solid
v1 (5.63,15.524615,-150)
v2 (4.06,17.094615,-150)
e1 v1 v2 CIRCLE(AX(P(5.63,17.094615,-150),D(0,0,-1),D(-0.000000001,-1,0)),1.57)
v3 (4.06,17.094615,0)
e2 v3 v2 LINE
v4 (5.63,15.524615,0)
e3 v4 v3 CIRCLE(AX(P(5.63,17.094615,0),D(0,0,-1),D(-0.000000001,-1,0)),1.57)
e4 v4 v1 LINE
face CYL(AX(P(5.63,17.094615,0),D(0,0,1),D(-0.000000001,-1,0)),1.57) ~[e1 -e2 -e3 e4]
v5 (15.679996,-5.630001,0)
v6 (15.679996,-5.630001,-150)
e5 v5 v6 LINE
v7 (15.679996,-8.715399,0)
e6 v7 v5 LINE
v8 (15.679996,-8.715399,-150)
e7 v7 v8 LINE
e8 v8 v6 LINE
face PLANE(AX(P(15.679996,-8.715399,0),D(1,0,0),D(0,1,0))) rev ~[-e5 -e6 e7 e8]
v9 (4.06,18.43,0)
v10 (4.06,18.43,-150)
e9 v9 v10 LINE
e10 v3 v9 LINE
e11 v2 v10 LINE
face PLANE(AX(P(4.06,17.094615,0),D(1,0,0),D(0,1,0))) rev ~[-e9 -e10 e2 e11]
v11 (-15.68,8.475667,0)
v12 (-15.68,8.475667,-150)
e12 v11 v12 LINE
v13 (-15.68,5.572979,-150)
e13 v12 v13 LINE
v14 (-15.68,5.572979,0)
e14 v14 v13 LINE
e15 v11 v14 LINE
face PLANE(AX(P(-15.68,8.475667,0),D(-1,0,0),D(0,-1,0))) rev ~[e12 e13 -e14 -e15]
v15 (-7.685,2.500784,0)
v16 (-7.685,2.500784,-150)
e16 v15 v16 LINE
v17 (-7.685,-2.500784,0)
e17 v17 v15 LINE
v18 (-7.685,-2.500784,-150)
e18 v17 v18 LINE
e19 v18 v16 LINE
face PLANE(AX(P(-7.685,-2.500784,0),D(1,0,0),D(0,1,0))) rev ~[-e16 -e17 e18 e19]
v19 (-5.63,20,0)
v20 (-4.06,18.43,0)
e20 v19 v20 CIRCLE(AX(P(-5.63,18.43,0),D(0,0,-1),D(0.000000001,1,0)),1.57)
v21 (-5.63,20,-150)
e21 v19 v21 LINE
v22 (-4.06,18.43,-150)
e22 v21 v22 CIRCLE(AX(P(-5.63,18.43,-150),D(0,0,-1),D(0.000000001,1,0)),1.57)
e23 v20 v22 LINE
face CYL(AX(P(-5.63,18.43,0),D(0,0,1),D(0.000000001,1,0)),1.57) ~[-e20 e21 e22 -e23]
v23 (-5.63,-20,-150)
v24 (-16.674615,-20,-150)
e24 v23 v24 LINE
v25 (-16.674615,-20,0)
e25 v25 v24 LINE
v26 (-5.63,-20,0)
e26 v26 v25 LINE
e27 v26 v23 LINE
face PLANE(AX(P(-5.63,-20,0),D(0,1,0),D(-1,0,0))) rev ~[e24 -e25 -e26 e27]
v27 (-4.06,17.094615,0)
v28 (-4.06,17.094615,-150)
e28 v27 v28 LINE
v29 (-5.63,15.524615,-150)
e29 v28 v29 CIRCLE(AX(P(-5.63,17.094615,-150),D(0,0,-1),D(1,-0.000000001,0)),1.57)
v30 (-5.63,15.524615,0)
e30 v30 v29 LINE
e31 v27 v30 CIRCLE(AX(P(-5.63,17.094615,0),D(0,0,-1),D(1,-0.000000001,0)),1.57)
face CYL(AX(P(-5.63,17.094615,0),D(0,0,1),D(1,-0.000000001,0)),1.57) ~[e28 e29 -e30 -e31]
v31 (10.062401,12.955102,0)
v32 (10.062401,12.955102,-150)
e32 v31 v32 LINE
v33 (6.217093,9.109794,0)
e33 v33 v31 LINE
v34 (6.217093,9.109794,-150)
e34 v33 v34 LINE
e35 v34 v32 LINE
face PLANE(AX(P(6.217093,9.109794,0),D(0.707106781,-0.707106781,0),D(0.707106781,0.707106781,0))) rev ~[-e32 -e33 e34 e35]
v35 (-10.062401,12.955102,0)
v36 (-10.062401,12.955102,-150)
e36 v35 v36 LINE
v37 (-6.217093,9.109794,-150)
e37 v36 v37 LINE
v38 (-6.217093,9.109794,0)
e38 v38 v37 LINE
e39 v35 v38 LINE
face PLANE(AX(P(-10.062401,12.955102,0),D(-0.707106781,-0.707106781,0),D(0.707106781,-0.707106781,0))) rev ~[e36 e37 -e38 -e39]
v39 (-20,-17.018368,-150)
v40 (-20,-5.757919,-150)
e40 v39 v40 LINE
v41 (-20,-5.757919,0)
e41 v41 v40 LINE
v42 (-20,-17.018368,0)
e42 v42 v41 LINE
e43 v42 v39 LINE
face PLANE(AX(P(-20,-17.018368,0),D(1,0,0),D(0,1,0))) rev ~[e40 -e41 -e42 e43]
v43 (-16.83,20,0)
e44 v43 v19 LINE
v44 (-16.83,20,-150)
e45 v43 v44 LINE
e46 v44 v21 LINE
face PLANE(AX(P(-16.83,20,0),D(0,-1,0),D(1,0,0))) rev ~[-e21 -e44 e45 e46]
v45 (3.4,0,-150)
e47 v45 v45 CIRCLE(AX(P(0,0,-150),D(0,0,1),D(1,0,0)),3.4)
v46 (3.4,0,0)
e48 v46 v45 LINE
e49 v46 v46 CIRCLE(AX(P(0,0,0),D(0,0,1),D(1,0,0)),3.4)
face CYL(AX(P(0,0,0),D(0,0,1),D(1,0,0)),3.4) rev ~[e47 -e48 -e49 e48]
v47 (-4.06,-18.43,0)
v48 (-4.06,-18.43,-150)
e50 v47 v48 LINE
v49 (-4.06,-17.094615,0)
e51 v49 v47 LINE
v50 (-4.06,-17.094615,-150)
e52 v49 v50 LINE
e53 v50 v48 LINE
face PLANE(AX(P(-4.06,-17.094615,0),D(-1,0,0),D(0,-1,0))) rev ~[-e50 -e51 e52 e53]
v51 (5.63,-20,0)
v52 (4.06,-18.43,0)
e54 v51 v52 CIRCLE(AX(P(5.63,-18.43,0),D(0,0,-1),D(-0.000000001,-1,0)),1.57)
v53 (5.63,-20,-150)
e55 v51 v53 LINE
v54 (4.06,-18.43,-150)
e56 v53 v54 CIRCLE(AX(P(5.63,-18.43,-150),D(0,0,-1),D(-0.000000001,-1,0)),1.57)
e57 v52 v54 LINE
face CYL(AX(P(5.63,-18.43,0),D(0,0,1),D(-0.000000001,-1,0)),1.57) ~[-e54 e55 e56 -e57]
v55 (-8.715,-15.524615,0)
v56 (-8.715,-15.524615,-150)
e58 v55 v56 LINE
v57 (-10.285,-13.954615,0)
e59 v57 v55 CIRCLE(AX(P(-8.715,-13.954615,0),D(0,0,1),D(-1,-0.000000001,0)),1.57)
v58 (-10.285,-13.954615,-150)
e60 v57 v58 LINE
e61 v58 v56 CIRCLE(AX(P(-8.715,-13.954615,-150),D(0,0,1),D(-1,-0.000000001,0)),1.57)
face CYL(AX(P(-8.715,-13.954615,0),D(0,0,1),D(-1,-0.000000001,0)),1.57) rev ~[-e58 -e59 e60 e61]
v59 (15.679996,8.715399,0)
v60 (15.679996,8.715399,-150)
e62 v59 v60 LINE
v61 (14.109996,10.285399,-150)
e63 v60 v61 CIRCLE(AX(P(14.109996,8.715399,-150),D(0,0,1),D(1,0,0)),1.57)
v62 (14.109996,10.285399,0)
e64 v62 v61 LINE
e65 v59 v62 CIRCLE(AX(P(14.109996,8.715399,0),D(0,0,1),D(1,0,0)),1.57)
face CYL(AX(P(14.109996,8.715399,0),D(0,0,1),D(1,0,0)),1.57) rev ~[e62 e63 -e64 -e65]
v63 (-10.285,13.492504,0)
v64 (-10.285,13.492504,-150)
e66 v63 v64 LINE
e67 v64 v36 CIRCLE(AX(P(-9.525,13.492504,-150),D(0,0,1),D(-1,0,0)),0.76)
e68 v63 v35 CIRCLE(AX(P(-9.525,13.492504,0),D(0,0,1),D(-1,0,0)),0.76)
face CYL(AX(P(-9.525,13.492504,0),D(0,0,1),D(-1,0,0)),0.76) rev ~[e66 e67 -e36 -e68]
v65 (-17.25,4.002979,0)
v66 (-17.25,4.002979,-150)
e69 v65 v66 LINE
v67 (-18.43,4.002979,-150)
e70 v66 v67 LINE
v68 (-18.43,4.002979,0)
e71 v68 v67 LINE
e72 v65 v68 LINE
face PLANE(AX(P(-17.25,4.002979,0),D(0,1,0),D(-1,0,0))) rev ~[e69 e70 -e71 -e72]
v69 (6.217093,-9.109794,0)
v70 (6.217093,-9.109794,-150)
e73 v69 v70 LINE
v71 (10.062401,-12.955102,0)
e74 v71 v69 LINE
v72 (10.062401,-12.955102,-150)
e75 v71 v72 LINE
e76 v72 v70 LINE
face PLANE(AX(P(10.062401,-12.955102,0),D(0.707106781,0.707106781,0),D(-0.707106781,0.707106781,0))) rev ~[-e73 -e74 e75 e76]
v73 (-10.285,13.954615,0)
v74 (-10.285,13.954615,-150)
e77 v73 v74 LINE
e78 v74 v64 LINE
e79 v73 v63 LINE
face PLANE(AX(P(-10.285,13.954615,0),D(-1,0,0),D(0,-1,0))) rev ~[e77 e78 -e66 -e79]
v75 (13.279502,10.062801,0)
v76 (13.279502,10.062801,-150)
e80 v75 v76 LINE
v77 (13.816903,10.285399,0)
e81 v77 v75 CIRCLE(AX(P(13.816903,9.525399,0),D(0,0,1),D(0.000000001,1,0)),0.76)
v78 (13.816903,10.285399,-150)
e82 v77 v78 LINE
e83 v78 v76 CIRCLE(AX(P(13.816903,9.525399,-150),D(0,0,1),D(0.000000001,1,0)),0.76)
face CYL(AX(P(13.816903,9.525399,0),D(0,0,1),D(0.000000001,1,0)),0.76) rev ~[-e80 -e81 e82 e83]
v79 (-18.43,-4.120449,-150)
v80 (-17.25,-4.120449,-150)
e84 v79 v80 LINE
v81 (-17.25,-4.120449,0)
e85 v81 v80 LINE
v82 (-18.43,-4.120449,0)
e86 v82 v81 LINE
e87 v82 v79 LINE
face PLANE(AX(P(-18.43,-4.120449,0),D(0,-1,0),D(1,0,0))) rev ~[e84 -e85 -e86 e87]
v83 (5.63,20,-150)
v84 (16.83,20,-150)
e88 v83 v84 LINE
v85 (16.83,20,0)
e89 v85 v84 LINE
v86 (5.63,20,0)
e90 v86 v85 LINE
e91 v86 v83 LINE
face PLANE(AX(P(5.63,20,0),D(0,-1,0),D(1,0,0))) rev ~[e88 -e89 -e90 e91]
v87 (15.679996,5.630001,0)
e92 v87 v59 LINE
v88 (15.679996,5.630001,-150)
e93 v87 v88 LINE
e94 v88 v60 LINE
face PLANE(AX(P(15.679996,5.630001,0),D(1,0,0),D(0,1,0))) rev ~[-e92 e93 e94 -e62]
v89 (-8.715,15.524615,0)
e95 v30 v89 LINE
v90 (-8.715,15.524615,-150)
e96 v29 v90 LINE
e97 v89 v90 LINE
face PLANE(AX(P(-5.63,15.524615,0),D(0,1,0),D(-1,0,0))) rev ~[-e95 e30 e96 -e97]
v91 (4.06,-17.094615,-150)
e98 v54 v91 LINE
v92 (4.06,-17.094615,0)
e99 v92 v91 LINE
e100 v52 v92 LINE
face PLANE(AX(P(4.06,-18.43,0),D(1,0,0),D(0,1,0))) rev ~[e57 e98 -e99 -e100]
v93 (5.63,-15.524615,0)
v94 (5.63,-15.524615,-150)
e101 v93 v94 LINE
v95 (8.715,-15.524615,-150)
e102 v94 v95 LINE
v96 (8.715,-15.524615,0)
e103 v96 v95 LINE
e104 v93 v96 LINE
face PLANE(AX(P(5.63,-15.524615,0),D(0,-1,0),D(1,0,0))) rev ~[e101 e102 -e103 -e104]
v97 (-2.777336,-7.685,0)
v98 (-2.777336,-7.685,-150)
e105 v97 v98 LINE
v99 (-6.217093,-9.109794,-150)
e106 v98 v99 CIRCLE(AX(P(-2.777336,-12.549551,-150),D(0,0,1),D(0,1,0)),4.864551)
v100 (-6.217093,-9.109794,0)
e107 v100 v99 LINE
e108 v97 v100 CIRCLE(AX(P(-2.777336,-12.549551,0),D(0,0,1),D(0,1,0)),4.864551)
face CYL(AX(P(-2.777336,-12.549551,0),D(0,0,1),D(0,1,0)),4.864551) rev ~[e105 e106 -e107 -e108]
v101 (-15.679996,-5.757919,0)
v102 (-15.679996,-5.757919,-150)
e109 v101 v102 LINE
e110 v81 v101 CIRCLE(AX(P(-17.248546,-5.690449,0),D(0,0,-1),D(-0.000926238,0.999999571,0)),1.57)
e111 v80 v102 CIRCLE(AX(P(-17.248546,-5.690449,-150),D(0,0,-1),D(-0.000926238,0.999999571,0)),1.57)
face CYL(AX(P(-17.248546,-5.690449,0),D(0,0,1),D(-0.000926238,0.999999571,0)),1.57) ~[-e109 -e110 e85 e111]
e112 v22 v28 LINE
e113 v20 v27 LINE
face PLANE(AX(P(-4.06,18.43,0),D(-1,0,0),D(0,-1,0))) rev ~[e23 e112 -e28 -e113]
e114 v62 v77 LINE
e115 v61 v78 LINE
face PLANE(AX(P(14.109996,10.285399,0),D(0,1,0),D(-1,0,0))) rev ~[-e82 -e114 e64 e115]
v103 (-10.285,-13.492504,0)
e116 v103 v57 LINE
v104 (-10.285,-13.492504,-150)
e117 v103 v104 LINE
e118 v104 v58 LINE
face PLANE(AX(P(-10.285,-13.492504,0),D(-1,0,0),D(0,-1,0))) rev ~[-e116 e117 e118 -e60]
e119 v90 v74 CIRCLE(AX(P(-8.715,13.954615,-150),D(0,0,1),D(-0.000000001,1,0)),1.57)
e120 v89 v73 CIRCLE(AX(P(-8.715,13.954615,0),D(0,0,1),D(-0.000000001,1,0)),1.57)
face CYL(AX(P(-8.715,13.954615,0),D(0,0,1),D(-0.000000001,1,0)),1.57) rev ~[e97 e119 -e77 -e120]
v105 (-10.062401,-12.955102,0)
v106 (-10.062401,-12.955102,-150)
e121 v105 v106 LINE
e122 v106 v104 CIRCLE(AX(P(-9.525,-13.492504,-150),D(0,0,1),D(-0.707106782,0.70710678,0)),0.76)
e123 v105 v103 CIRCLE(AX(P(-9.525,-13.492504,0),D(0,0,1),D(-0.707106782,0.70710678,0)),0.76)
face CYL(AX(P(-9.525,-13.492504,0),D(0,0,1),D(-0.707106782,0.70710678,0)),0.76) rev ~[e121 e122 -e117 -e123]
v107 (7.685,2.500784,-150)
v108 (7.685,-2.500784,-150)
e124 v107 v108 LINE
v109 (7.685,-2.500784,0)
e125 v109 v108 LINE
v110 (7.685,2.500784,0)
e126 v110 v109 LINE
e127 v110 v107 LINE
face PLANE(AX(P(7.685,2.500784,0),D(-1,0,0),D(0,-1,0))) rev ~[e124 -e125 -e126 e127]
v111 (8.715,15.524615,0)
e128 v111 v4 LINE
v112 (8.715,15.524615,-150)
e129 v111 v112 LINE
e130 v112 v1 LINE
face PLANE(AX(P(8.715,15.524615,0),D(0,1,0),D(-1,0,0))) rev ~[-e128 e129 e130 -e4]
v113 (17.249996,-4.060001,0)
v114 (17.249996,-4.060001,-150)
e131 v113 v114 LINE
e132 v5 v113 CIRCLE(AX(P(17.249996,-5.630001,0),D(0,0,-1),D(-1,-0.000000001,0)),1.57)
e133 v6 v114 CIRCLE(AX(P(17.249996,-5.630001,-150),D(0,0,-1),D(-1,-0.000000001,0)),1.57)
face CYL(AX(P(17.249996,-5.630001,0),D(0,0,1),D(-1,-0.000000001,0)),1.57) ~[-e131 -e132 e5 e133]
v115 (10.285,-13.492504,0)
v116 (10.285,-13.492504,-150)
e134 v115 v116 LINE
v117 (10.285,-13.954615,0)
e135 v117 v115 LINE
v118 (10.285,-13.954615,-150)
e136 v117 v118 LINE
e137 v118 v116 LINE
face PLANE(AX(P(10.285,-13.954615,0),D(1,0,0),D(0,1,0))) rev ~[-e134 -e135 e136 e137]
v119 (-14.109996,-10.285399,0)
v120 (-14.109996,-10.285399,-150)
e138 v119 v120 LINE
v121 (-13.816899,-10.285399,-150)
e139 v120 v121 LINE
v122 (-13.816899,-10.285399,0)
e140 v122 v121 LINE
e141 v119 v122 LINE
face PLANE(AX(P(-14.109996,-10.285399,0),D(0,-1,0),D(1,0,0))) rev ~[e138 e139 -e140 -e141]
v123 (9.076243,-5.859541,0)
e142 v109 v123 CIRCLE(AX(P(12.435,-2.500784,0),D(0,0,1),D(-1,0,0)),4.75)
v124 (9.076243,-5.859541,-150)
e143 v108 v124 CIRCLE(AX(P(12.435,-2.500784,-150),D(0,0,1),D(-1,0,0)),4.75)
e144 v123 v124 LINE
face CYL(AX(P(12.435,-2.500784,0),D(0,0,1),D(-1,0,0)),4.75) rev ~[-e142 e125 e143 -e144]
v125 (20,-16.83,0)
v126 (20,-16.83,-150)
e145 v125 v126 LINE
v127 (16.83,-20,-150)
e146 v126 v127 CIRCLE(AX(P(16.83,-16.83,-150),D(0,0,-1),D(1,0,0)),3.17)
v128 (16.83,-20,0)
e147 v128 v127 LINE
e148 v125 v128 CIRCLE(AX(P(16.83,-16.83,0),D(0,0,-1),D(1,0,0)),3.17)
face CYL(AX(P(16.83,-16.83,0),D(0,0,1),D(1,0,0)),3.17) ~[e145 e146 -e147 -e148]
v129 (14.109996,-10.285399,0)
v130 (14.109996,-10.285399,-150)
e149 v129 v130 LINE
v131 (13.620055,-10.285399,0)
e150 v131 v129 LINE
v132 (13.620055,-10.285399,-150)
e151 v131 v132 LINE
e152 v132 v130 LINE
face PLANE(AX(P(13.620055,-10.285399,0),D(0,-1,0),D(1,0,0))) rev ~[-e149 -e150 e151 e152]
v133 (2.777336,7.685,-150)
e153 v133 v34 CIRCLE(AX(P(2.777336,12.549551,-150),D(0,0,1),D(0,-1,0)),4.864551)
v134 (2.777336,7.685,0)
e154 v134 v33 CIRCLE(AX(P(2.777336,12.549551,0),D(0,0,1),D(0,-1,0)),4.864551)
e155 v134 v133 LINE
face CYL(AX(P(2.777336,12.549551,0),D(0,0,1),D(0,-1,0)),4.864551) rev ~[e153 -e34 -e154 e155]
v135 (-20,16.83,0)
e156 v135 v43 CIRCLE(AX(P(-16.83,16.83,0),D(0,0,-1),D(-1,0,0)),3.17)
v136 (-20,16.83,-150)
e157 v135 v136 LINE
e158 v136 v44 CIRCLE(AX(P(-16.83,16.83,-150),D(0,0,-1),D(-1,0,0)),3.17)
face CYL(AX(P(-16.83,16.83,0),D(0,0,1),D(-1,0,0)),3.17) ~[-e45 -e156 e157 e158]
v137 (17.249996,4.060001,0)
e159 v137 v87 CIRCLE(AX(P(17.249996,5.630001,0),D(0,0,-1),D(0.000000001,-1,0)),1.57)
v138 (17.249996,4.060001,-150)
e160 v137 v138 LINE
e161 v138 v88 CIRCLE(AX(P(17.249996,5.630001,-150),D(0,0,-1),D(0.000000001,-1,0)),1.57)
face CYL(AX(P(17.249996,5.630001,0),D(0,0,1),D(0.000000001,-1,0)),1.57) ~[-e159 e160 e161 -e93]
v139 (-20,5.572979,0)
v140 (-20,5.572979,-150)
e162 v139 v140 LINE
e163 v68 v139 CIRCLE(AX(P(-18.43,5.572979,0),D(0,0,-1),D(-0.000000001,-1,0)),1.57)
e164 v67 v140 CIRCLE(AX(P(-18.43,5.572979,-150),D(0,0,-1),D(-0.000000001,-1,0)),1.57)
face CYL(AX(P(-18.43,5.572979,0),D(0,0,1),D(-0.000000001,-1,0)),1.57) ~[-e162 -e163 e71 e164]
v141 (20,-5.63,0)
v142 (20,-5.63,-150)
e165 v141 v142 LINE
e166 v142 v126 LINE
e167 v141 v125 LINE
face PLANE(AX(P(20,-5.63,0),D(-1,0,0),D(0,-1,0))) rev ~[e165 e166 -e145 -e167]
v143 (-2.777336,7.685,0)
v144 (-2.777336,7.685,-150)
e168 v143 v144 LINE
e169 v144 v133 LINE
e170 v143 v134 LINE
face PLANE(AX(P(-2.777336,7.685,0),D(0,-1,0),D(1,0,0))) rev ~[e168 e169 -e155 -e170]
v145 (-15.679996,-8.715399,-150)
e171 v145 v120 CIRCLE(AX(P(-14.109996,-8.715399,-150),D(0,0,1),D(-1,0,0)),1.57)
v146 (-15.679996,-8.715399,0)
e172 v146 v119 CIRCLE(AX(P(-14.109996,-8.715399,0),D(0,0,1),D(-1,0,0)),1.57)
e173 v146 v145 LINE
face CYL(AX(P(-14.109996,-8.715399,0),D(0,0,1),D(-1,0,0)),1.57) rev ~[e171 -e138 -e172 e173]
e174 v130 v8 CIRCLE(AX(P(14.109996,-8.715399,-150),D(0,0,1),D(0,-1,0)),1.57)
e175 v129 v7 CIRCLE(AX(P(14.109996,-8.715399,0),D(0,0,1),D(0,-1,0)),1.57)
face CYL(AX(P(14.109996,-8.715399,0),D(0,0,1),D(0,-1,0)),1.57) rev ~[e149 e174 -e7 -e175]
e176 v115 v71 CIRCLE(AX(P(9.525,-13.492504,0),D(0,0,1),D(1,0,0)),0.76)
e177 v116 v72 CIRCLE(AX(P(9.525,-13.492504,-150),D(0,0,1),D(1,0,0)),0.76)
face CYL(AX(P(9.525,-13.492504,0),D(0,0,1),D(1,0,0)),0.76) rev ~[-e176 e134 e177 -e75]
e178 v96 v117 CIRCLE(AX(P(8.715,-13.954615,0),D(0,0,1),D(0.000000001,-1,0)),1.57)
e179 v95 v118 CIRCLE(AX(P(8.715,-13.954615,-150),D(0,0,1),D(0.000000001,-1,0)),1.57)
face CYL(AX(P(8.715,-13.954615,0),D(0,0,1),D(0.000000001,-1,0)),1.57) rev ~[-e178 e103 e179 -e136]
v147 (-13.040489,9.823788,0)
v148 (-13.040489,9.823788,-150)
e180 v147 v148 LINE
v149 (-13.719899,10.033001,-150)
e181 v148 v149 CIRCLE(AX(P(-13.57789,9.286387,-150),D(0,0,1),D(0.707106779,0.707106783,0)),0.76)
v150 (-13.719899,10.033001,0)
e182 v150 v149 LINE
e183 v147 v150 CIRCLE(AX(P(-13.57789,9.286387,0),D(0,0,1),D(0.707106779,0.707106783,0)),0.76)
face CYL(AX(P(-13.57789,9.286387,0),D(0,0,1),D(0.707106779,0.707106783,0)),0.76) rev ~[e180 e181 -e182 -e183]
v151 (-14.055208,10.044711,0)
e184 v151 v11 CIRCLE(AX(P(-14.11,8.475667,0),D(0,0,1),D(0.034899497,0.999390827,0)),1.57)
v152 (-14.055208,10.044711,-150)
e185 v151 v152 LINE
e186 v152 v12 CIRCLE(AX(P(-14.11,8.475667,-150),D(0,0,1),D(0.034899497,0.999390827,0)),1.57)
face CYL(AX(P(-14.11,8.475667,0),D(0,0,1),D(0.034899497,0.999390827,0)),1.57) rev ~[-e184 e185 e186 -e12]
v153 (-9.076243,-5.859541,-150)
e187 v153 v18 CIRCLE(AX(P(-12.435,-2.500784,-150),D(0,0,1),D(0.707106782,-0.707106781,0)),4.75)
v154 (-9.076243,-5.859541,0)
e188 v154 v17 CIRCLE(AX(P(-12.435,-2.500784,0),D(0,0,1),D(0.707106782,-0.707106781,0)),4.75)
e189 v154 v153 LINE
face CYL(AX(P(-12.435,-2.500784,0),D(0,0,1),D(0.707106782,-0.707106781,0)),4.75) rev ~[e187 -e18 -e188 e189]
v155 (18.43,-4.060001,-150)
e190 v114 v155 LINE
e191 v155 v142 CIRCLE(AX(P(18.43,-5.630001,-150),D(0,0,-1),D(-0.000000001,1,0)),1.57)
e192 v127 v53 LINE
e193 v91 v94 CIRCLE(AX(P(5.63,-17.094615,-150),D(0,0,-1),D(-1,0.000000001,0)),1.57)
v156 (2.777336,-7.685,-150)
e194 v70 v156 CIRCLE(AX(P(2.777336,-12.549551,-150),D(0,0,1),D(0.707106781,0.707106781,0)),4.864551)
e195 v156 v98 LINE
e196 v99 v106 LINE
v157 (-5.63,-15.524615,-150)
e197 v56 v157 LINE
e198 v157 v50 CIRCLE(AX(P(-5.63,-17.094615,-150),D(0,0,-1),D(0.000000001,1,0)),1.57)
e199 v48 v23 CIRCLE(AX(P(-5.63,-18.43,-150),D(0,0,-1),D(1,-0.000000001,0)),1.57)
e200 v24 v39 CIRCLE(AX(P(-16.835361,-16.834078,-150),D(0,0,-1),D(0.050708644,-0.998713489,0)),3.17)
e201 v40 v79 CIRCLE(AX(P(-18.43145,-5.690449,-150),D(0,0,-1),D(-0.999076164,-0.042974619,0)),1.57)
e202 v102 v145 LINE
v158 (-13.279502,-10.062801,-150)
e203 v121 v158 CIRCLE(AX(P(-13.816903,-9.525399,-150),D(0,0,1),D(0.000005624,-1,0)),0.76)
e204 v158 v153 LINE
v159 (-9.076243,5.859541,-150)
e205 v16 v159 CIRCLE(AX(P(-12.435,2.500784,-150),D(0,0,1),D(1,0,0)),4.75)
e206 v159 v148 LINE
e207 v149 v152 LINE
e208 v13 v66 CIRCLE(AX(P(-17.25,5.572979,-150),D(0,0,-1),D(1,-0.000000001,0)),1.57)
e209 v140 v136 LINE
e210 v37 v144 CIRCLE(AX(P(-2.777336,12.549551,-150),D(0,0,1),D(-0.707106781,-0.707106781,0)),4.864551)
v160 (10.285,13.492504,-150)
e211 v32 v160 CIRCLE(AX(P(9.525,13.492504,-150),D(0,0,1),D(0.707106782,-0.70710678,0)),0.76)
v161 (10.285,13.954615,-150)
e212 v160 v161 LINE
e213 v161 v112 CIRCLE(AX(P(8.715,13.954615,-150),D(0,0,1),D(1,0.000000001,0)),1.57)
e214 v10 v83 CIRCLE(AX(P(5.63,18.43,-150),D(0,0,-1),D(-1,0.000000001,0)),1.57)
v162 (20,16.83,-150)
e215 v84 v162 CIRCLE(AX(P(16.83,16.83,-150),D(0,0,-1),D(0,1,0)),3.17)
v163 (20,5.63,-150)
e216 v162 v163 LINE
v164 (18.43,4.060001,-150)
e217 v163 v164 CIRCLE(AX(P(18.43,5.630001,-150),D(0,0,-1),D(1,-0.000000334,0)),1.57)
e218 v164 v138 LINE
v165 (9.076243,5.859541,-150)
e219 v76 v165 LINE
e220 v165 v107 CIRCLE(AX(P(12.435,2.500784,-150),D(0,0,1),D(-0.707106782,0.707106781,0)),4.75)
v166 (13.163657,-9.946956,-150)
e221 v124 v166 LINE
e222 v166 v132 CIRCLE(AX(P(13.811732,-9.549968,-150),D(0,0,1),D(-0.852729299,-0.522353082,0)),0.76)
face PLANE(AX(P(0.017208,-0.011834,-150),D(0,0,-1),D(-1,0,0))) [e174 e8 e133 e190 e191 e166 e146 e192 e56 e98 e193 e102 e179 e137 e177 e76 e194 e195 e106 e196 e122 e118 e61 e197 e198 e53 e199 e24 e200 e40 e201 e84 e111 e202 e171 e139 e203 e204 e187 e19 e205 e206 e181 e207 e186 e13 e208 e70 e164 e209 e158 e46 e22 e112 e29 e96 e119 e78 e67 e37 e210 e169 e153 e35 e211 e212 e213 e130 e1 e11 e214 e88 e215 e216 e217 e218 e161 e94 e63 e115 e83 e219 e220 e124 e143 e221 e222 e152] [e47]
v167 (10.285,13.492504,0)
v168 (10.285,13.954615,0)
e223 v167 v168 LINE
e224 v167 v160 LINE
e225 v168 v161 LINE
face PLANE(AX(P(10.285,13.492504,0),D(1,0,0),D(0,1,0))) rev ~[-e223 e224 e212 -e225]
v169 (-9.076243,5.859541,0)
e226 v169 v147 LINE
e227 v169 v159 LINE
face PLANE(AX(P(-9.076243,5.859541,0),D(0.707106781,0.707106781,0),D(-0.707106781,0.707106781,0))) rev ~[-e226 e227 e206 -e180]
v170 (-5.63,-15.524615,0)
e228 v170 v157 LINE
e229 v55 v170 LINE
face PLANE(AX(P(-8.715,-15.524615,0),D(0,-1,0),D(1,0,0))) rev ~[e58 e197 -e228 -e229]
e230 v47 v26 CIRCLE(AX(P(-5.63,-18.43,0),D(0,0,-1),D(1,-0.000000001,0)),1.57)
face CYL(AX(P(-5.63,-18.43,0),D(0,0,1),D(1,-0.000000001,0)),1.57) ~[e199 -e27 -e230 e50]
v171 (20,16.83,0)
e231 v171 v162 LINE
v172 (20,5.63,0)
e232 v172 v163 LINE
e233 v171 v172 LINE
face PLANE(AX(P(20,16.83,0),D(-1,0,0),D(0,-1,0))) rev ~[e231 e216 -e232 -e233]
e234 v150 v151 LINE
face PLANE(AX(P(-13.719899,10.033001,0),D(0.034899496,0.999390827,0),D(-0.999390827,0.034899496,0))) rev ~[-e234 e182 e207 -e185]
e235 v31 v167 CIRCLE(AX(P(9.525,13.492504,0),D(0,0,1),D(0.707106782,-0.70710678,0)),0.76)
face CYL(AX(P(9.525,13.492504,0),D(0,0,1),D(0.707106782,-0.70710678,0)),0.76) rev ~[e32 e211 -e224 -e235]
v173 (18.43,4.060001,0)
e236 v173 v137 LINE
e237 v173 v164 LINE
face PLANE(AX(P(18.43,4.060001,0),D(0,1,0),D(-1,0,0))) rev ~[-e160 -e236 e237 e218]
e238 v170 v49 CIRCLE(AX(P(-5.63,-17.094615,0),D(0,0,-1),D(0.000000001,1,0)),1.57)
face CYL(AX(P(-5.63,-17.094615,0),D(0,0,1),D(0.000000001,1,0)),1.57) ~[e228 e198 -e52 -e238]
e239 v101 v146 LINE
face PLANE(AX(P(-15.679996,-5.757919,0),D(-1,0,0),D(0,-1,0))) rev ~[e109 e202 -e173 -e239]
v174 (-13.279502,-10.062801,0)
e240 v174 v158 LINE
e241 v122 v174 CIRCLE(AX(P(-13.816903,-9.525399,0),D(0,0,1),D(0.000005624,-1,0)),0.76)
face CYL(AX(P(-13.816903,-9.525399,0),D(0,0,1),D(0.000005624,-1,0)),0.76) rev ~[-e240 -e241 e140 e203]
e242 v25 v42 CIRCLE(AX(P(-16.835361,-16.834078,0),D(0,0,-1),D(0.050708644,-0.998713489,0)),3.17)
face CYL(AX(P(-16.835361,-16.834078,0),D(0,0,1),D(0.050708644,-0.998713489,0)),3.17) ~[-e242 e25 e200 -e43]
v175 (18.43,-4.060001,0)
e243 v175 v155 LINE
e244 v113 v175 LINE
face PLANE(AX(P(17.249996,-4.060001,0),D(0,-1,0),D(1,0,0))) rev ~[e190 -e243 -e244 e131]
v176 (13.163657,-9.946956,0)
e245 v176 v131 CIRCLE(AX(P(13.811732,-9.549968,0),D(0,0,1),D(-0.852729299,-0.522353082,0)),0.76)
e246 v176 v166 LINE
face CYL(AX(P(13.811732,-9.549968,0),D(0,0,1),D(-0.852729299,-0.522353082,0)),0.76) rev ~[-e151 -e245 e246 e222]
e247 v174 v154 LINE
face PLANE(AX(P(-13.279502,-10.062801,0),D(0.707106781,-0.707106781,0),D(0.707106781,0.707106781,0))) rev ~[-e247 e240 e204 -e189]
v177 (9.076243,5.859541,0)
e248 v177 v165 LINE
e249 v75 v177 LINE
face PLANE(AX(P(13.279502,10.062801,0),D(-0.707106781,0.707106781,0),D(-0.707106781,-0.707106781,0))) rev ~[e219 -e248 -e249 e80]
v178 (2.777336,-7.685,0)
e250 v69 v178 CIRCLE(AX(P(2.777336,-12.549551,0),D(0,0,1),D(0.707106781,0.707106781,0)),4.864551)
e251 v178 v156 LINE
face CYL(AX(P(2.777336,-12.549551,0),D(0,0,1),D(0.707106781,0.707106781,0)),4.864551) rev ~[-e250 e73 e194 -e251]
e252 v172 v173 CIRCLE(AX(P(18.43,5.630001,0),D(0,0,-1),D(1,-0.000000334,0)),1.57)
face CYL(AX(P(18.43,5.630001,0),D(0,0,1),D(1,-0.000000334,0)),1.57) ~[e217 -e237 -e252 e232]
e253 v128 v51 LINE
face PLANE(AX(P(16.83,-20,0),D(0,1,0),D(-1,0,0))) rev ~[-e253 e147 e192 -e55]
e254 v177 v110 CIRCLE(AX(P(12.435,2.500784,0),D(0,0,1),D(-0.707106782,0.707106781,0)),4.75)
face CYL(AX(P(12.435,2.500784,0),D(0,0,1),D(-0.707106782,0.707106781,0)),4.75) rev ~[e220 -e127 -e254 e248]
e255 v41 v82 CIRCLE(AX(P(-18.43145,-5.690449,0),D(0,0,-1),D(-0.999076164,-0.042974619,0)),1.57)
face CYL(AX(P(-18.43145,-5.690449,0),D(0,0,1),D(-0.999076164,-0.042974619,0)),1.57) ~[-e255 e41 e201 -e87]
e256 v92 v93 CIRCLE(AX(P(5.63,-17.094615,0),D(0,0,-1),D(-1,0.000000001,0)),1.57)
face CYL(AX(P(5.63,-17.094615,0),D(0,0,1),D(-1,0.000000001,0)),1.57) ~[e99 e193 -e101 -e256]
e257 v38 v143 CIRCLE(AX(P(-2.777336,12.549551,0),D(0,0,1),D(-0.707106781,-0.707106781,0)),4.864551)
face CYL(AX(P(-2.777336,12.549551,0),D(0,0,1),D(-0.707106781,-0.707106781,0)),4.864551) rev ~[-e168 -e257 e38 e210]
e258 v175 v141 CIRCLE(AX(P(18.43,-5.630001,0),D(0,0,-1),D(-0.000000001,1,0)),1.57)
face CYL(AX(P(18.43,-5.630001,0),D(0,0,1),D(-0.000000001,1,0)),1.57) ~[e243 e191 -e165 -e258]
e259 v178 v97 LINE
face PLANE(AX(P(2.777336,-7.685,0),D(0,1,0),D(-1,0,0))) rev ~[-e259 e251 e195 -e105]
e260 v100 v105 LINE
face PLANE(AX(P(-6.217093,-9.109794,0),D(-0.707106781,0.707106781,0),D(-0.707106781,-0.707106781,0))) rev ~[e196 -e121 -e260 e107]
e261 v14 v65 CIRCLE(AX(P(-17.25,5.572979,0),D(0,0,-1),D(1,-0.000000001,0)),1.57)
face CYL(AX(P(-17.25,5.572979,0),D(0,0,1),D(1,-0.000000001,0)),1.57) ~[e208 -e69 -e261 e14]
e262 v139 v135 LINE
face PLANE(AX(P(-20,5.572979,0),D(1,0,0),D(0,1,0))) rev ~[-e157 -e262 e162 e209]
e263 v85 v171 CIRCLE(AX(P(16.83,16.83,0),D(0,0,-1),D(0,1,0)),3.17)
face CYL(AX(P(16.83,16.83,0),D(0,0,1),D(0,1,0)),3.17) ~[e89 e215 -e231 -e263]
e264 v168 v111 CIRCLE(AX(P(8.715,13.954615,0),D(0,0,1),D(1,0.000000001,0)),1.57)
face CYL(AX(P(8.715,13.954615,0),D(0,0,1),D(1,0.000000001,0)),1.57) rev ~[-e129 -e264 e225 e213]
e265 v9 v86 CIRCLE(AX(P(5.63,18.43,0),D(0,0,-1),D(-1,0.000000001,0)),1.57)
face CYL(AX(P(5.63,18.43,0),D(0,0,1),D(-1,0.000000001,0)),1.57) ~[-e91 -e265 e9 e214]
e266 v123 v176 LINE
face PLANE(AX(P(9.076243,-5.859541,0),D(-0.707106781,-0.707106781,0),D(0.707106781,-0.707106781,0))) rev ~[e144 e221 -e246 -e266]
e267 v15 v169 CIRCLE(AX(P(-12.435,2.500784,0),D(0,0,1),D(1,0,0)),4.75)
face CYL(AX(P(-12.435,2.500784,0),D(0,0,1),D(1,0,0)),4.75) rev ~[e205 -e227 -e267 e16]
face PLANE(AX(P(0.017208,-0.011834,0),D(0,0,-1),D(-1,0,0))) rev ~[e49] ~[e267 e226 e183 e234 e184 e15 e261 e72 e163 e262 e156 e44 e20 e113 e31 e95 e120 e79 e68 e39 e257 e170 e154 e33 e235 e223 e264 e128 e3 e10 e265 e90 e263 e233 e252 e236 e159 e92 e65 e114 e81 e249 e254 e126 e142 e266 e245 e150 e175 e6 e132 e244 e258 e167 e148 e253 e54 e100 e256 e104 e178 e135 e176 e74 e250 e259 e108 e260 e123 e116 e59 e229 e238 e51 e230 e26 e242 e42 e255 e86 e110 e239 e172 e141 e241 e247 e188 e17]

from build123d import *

# Parameters (mm, degrees)
SKETCH1_R      = 3.4
EXTRUDE1_DEPTH = 150


with BuildPart() as part:
    # Sketch1 → Extrude1 (new body)
    with BuildSketch(Plane.XY):
        with BuildLine():
            Line((-8.715, -15.524615034), (-5.63, -15.524615034))
            ThreePointArc((-5.63, -15.524615034), (-4.519842354, -15.984457388), (-4.06, -17.094615034))
            Line((-4.06, -17.094615034), (-4.06, -18.43))
            ThreePointArc((-4.06, -18.43), (-4.519842354, -19.540157646), (-5.63, -20))
            Line((-5.63, -20), (-16.674615034, -20))
            ThreePointArc((-16.674615034, -20), (-18.951578385, -19.194274381), (-20, -17.018368134))
            Line((-20, -17.018368134), (-20, -5.757918808))
            ThreePointArc((-20, -5.757918808), (-19.564709668, -4.603883664), (-18.43, -4.120449326))
            Line((-18.43, -4.120449326), (-17.25, -4.120449326))
            ThreePointArc((-17.25, -4.120449326), (-16.115287682, -4.60388249), (-15.67999625, -5.757919334))
            Line((-15.67999625, -5.757919334), (-15.67999625, -8.715399492))
            ThreePointArc((-15.67999625, -8.715399492), (-15.220153896, -9.825557139), (-14.10999625, -10.285399492))
            Line((-14.10999625, -10.285399492), (-13.816898819, -10.285399492))
            ThreePointArc((-13.816898819, -10.285399492), (-13.526061711, -10.227547119), (-13.279501941, -10.062800646))
            Line((-13.279501941, -10.062800646), (-9.076242789, -5.859541495))
            ThreePointArc((-9.076242789, -5.859541495), (-8.046572221, -4.318530588), (-7.685, -2.500784284))
            Line((-7.685, -2.500784284), (-7.685, 2.500784284))
            ThreePointArc((-7.685, 2.500784284), (-8.046572221, 4.318530588), (-9.076242789, 5.859541495))
            Line((-9.076242789, 5.859541495), (-13.040489136, 9.823787841))
            ThreePointArc((-13.040489136, 9.823787841), (-13.354224618, 10.012729352), (-13.71989919, 10.033001362))
            Line((-13.71989919, 10.033001362), (-14.05520779, 10.044710596))
            ThreePointArc((-14.05520779, 10.044710596), (-15.200613642, 9.605030484), (-15.68, 8.475666998))
            Line((-15.68, 8.475666998), (-15.68, 5.572979049))
            ThreePointArc((-15.68, 5.572979049), (-16.139842354, 4.462821403), (-17.25, 4.002979049))
            Line((-17.25, 4.002979049), (-18.43, 4.002979049))
            ThreePointArc((-18.43, 4.002979049), (-19.540157646, 4.462821403), (-20, 5.572979049))
            Line((-20, 5.572979049), (-20, 13.004526564))
            Line((-20, 13.004526564), (-20, 16.83))
            ThreePointArc((-20, 16.83), (-19.071528496, 19.071528496), (-16.83, 20))
            Line((-16.83, 20), (-5.63, 20))
            ThreePointArc((-5.63, 20), (-4.519842354, 19.540157646), (-4.06, 18.43))
            Line((-4.06, 18.43), (-4.06, 17.094615034))
            ThreePointArc((-4.06, 17.094615034), (-4.519842354, 15.984457388), (-5.63, 15.524615034))
            Line((-5.63, 15.524615034), (-8.715, 15.524615034))
            ThreePointArc((-8.715, 15.524615034), (-9.825157646, 15.06477268), (-10.285, 13.954615034))
            Line((-10.285, 13.954615034), (-10.285, 13.492503602))
            ThreePointArc((-10.285, 13.492503602), (-10.227148445, 13.201664194), (-10.062401154, 12.955102448))
            Line((-10.062401154, 12.955102448), (-6.217092793, 9.109794088))
            ThreePointArc((-6.217092793, 9.109794088), (-4.63891877, 8.055291919), (-2.777335583, 7.685))
            Line((-2.777335583, 7.685), (2.777335583, 7.685))
            ThreePointArc((2.777335583, 7.685), (4.63891877, 8.055291919), (6.217092793, 9.109794088))
            Line((6.217092793, 9.109794088), (10.062401154, 12.955102448))
            ThreePointArc((10.062401154, 12.955102448), (10.227148445, 13.201664194), (10.285, 13.492503602))
            Line((10.285, 13.492503602), (10.285, 13.954615034))
            ThreePointArc((10.285, 13.954615034), (9.825157646, 15.06477268), (8.715, 15.524615034))
            Line((8.715, 15.524615034), (5.63, 15.524615034))
            ThreePointArc((5.63, 15.524615034), (4.519842354, 15.984457388), (4.06, 17.094615034))
            Line((4.06, 17.094615034), (4.06, 18.43))
            ThreePointArc((4.06, 18.43), (4.519842354, 19.540157646), (5.63, 20))
            Line((5.63, 20), (12.979635074, 20))
            Line((12.979635074, 20), (16.83, 20))
            ThreePointArc((16.83, 20), (19.071528496, 19.071528496), (20, 16.83))
            Line((20, 16.83), (20, 13.001098436))
            Line((20, 13.001098436), (20, 5.63))
            ThreePointArc((20, 5.63), (19.540157461, 4.519842693), (18.43, 4.060000526))
            Line((18.43, 4.060000526), (17.24999625, 4.060000526))
            ThreePointArc((17.24999625, 4.060000526), (16.139838603, 4.519842879), (15.67999625, 5.630000526))
            Line((15.67999625, 5.630000526), (15.67999625, 8.715399492))
            ThreePointArc((15.67999625, 8.715399492), (15.220153896, 9.825557139), (14.10999625, 10.285399492))
            Line((14.10999625, 10.285399492), (13.816903094, 10.285399492))
            ThreePointArc((13.816903094, 10.285399492), (13.526063686, 10.227547937), (13.279501941, 10.062800646))
            Line((13.279501941, 10.062800646), (9.076242789, 5.859541495))
            ThreePointArc((9.076242789, 5.859541495), (8.046572221, 4.318530588), (7.685, 2.500784284))
            Line((7.685, 2.500784284), (7.685, -2.500784284))
            ThreePointArc((7.685, -2.500784284), (8.046572221, -4.318530588), (9.076242789, -5.859541495))
            Line((9.076242789, -5.859541495), (13.163657296, -9.946956002))
            ThreePointArc((13.163657296, -9.946956002), (13.35903797, -10.160433474), (13.6200547, -10.285399492))
            Line((13.6200547, -10.285399492), (14.10999625, -10.285399492))
            ThreePointArc((14.10999625, -10.285399492), (15.220153896, -9.825557139), (15.67999625, -8.715399492))
            Line((15.67999625, -8.715399492), (15.67999625, -5.630000526))
            ThreePointArc((15.67999625, -5.630000526), (16.139838603, -4.519842879), (17.24999625, -4.060000526))
            Line((17.24999625, -4.060000526), (18.43, -4.060000526))
            ThreePointArc((18.43, -4.060000526), (19.540157461, -4.519842693), (20, -5.63))
            Line((20, -5.63), (20, -16.83))
            ThreePointArc((20, -16.83), (19.071528496, -19.071528496), (16.83, -20))
            Line((16.83, -20), (13, -20))
            Line((13, -20), (5.63, -20))
            ThreePointArc((5.63, -20), (4.519842354, -19.540157646), (4.06, -18.43))
            Line((4.06, -18.43), (4.06, -17.094615034))
            ThreePointArc((4.06, -17.094615034), (4.519842354, -15.984457388), (5.63, -15.524615034))
            Line((5.63, -15.524615034), (8.715, -15.524615034))
            ThreePointArc((8.715, -15.524615034), (9.825157646, -15.06477268), (10.285, -13.954615034))
            Line((10.285, -13.954615034), (10.285, -13.492503602))
            ThreePointArc((10.285, -13.492503602), (10.227148445, -13.201664194), (10.062401154, -12.955102448))
            Line((10.062401154, -12.955102448), (6.217092793, -9.109794088))
            ThreePointArc((6.217092793, -9.109794088), (4.63891877, -8.055291919), (2.777335583, -7.685))
            Line((2.777335583, -7.685), (-2.777335583, -7.685))
            ThreePointArc((-2.777335583, -7.685), (-4.63891877, -8.055291919), (-6.217092793, -9.109794088))
            Line((-6.217092793, -9.109794088), (-10.062401154, -12.955102448))
            ThreePointArc((-10.062401154, -12.955102448), (-10.227148445, -13.201664194), (-10.285, -13.492503602))
            Line((-10.285, -13.492503602), (-10.285, -13.954615034))
            ThreePointArc((-10.285, -13.954615034), (-9.825157646, -15.06477268), (-8.715, -15.524615034))
        make_face()
        Circle(SKETCH1_R, mode=Mode.SUBTRACT)
    extrude(amount=-EXTRUDE1_DEPTH)


solid = part.part
